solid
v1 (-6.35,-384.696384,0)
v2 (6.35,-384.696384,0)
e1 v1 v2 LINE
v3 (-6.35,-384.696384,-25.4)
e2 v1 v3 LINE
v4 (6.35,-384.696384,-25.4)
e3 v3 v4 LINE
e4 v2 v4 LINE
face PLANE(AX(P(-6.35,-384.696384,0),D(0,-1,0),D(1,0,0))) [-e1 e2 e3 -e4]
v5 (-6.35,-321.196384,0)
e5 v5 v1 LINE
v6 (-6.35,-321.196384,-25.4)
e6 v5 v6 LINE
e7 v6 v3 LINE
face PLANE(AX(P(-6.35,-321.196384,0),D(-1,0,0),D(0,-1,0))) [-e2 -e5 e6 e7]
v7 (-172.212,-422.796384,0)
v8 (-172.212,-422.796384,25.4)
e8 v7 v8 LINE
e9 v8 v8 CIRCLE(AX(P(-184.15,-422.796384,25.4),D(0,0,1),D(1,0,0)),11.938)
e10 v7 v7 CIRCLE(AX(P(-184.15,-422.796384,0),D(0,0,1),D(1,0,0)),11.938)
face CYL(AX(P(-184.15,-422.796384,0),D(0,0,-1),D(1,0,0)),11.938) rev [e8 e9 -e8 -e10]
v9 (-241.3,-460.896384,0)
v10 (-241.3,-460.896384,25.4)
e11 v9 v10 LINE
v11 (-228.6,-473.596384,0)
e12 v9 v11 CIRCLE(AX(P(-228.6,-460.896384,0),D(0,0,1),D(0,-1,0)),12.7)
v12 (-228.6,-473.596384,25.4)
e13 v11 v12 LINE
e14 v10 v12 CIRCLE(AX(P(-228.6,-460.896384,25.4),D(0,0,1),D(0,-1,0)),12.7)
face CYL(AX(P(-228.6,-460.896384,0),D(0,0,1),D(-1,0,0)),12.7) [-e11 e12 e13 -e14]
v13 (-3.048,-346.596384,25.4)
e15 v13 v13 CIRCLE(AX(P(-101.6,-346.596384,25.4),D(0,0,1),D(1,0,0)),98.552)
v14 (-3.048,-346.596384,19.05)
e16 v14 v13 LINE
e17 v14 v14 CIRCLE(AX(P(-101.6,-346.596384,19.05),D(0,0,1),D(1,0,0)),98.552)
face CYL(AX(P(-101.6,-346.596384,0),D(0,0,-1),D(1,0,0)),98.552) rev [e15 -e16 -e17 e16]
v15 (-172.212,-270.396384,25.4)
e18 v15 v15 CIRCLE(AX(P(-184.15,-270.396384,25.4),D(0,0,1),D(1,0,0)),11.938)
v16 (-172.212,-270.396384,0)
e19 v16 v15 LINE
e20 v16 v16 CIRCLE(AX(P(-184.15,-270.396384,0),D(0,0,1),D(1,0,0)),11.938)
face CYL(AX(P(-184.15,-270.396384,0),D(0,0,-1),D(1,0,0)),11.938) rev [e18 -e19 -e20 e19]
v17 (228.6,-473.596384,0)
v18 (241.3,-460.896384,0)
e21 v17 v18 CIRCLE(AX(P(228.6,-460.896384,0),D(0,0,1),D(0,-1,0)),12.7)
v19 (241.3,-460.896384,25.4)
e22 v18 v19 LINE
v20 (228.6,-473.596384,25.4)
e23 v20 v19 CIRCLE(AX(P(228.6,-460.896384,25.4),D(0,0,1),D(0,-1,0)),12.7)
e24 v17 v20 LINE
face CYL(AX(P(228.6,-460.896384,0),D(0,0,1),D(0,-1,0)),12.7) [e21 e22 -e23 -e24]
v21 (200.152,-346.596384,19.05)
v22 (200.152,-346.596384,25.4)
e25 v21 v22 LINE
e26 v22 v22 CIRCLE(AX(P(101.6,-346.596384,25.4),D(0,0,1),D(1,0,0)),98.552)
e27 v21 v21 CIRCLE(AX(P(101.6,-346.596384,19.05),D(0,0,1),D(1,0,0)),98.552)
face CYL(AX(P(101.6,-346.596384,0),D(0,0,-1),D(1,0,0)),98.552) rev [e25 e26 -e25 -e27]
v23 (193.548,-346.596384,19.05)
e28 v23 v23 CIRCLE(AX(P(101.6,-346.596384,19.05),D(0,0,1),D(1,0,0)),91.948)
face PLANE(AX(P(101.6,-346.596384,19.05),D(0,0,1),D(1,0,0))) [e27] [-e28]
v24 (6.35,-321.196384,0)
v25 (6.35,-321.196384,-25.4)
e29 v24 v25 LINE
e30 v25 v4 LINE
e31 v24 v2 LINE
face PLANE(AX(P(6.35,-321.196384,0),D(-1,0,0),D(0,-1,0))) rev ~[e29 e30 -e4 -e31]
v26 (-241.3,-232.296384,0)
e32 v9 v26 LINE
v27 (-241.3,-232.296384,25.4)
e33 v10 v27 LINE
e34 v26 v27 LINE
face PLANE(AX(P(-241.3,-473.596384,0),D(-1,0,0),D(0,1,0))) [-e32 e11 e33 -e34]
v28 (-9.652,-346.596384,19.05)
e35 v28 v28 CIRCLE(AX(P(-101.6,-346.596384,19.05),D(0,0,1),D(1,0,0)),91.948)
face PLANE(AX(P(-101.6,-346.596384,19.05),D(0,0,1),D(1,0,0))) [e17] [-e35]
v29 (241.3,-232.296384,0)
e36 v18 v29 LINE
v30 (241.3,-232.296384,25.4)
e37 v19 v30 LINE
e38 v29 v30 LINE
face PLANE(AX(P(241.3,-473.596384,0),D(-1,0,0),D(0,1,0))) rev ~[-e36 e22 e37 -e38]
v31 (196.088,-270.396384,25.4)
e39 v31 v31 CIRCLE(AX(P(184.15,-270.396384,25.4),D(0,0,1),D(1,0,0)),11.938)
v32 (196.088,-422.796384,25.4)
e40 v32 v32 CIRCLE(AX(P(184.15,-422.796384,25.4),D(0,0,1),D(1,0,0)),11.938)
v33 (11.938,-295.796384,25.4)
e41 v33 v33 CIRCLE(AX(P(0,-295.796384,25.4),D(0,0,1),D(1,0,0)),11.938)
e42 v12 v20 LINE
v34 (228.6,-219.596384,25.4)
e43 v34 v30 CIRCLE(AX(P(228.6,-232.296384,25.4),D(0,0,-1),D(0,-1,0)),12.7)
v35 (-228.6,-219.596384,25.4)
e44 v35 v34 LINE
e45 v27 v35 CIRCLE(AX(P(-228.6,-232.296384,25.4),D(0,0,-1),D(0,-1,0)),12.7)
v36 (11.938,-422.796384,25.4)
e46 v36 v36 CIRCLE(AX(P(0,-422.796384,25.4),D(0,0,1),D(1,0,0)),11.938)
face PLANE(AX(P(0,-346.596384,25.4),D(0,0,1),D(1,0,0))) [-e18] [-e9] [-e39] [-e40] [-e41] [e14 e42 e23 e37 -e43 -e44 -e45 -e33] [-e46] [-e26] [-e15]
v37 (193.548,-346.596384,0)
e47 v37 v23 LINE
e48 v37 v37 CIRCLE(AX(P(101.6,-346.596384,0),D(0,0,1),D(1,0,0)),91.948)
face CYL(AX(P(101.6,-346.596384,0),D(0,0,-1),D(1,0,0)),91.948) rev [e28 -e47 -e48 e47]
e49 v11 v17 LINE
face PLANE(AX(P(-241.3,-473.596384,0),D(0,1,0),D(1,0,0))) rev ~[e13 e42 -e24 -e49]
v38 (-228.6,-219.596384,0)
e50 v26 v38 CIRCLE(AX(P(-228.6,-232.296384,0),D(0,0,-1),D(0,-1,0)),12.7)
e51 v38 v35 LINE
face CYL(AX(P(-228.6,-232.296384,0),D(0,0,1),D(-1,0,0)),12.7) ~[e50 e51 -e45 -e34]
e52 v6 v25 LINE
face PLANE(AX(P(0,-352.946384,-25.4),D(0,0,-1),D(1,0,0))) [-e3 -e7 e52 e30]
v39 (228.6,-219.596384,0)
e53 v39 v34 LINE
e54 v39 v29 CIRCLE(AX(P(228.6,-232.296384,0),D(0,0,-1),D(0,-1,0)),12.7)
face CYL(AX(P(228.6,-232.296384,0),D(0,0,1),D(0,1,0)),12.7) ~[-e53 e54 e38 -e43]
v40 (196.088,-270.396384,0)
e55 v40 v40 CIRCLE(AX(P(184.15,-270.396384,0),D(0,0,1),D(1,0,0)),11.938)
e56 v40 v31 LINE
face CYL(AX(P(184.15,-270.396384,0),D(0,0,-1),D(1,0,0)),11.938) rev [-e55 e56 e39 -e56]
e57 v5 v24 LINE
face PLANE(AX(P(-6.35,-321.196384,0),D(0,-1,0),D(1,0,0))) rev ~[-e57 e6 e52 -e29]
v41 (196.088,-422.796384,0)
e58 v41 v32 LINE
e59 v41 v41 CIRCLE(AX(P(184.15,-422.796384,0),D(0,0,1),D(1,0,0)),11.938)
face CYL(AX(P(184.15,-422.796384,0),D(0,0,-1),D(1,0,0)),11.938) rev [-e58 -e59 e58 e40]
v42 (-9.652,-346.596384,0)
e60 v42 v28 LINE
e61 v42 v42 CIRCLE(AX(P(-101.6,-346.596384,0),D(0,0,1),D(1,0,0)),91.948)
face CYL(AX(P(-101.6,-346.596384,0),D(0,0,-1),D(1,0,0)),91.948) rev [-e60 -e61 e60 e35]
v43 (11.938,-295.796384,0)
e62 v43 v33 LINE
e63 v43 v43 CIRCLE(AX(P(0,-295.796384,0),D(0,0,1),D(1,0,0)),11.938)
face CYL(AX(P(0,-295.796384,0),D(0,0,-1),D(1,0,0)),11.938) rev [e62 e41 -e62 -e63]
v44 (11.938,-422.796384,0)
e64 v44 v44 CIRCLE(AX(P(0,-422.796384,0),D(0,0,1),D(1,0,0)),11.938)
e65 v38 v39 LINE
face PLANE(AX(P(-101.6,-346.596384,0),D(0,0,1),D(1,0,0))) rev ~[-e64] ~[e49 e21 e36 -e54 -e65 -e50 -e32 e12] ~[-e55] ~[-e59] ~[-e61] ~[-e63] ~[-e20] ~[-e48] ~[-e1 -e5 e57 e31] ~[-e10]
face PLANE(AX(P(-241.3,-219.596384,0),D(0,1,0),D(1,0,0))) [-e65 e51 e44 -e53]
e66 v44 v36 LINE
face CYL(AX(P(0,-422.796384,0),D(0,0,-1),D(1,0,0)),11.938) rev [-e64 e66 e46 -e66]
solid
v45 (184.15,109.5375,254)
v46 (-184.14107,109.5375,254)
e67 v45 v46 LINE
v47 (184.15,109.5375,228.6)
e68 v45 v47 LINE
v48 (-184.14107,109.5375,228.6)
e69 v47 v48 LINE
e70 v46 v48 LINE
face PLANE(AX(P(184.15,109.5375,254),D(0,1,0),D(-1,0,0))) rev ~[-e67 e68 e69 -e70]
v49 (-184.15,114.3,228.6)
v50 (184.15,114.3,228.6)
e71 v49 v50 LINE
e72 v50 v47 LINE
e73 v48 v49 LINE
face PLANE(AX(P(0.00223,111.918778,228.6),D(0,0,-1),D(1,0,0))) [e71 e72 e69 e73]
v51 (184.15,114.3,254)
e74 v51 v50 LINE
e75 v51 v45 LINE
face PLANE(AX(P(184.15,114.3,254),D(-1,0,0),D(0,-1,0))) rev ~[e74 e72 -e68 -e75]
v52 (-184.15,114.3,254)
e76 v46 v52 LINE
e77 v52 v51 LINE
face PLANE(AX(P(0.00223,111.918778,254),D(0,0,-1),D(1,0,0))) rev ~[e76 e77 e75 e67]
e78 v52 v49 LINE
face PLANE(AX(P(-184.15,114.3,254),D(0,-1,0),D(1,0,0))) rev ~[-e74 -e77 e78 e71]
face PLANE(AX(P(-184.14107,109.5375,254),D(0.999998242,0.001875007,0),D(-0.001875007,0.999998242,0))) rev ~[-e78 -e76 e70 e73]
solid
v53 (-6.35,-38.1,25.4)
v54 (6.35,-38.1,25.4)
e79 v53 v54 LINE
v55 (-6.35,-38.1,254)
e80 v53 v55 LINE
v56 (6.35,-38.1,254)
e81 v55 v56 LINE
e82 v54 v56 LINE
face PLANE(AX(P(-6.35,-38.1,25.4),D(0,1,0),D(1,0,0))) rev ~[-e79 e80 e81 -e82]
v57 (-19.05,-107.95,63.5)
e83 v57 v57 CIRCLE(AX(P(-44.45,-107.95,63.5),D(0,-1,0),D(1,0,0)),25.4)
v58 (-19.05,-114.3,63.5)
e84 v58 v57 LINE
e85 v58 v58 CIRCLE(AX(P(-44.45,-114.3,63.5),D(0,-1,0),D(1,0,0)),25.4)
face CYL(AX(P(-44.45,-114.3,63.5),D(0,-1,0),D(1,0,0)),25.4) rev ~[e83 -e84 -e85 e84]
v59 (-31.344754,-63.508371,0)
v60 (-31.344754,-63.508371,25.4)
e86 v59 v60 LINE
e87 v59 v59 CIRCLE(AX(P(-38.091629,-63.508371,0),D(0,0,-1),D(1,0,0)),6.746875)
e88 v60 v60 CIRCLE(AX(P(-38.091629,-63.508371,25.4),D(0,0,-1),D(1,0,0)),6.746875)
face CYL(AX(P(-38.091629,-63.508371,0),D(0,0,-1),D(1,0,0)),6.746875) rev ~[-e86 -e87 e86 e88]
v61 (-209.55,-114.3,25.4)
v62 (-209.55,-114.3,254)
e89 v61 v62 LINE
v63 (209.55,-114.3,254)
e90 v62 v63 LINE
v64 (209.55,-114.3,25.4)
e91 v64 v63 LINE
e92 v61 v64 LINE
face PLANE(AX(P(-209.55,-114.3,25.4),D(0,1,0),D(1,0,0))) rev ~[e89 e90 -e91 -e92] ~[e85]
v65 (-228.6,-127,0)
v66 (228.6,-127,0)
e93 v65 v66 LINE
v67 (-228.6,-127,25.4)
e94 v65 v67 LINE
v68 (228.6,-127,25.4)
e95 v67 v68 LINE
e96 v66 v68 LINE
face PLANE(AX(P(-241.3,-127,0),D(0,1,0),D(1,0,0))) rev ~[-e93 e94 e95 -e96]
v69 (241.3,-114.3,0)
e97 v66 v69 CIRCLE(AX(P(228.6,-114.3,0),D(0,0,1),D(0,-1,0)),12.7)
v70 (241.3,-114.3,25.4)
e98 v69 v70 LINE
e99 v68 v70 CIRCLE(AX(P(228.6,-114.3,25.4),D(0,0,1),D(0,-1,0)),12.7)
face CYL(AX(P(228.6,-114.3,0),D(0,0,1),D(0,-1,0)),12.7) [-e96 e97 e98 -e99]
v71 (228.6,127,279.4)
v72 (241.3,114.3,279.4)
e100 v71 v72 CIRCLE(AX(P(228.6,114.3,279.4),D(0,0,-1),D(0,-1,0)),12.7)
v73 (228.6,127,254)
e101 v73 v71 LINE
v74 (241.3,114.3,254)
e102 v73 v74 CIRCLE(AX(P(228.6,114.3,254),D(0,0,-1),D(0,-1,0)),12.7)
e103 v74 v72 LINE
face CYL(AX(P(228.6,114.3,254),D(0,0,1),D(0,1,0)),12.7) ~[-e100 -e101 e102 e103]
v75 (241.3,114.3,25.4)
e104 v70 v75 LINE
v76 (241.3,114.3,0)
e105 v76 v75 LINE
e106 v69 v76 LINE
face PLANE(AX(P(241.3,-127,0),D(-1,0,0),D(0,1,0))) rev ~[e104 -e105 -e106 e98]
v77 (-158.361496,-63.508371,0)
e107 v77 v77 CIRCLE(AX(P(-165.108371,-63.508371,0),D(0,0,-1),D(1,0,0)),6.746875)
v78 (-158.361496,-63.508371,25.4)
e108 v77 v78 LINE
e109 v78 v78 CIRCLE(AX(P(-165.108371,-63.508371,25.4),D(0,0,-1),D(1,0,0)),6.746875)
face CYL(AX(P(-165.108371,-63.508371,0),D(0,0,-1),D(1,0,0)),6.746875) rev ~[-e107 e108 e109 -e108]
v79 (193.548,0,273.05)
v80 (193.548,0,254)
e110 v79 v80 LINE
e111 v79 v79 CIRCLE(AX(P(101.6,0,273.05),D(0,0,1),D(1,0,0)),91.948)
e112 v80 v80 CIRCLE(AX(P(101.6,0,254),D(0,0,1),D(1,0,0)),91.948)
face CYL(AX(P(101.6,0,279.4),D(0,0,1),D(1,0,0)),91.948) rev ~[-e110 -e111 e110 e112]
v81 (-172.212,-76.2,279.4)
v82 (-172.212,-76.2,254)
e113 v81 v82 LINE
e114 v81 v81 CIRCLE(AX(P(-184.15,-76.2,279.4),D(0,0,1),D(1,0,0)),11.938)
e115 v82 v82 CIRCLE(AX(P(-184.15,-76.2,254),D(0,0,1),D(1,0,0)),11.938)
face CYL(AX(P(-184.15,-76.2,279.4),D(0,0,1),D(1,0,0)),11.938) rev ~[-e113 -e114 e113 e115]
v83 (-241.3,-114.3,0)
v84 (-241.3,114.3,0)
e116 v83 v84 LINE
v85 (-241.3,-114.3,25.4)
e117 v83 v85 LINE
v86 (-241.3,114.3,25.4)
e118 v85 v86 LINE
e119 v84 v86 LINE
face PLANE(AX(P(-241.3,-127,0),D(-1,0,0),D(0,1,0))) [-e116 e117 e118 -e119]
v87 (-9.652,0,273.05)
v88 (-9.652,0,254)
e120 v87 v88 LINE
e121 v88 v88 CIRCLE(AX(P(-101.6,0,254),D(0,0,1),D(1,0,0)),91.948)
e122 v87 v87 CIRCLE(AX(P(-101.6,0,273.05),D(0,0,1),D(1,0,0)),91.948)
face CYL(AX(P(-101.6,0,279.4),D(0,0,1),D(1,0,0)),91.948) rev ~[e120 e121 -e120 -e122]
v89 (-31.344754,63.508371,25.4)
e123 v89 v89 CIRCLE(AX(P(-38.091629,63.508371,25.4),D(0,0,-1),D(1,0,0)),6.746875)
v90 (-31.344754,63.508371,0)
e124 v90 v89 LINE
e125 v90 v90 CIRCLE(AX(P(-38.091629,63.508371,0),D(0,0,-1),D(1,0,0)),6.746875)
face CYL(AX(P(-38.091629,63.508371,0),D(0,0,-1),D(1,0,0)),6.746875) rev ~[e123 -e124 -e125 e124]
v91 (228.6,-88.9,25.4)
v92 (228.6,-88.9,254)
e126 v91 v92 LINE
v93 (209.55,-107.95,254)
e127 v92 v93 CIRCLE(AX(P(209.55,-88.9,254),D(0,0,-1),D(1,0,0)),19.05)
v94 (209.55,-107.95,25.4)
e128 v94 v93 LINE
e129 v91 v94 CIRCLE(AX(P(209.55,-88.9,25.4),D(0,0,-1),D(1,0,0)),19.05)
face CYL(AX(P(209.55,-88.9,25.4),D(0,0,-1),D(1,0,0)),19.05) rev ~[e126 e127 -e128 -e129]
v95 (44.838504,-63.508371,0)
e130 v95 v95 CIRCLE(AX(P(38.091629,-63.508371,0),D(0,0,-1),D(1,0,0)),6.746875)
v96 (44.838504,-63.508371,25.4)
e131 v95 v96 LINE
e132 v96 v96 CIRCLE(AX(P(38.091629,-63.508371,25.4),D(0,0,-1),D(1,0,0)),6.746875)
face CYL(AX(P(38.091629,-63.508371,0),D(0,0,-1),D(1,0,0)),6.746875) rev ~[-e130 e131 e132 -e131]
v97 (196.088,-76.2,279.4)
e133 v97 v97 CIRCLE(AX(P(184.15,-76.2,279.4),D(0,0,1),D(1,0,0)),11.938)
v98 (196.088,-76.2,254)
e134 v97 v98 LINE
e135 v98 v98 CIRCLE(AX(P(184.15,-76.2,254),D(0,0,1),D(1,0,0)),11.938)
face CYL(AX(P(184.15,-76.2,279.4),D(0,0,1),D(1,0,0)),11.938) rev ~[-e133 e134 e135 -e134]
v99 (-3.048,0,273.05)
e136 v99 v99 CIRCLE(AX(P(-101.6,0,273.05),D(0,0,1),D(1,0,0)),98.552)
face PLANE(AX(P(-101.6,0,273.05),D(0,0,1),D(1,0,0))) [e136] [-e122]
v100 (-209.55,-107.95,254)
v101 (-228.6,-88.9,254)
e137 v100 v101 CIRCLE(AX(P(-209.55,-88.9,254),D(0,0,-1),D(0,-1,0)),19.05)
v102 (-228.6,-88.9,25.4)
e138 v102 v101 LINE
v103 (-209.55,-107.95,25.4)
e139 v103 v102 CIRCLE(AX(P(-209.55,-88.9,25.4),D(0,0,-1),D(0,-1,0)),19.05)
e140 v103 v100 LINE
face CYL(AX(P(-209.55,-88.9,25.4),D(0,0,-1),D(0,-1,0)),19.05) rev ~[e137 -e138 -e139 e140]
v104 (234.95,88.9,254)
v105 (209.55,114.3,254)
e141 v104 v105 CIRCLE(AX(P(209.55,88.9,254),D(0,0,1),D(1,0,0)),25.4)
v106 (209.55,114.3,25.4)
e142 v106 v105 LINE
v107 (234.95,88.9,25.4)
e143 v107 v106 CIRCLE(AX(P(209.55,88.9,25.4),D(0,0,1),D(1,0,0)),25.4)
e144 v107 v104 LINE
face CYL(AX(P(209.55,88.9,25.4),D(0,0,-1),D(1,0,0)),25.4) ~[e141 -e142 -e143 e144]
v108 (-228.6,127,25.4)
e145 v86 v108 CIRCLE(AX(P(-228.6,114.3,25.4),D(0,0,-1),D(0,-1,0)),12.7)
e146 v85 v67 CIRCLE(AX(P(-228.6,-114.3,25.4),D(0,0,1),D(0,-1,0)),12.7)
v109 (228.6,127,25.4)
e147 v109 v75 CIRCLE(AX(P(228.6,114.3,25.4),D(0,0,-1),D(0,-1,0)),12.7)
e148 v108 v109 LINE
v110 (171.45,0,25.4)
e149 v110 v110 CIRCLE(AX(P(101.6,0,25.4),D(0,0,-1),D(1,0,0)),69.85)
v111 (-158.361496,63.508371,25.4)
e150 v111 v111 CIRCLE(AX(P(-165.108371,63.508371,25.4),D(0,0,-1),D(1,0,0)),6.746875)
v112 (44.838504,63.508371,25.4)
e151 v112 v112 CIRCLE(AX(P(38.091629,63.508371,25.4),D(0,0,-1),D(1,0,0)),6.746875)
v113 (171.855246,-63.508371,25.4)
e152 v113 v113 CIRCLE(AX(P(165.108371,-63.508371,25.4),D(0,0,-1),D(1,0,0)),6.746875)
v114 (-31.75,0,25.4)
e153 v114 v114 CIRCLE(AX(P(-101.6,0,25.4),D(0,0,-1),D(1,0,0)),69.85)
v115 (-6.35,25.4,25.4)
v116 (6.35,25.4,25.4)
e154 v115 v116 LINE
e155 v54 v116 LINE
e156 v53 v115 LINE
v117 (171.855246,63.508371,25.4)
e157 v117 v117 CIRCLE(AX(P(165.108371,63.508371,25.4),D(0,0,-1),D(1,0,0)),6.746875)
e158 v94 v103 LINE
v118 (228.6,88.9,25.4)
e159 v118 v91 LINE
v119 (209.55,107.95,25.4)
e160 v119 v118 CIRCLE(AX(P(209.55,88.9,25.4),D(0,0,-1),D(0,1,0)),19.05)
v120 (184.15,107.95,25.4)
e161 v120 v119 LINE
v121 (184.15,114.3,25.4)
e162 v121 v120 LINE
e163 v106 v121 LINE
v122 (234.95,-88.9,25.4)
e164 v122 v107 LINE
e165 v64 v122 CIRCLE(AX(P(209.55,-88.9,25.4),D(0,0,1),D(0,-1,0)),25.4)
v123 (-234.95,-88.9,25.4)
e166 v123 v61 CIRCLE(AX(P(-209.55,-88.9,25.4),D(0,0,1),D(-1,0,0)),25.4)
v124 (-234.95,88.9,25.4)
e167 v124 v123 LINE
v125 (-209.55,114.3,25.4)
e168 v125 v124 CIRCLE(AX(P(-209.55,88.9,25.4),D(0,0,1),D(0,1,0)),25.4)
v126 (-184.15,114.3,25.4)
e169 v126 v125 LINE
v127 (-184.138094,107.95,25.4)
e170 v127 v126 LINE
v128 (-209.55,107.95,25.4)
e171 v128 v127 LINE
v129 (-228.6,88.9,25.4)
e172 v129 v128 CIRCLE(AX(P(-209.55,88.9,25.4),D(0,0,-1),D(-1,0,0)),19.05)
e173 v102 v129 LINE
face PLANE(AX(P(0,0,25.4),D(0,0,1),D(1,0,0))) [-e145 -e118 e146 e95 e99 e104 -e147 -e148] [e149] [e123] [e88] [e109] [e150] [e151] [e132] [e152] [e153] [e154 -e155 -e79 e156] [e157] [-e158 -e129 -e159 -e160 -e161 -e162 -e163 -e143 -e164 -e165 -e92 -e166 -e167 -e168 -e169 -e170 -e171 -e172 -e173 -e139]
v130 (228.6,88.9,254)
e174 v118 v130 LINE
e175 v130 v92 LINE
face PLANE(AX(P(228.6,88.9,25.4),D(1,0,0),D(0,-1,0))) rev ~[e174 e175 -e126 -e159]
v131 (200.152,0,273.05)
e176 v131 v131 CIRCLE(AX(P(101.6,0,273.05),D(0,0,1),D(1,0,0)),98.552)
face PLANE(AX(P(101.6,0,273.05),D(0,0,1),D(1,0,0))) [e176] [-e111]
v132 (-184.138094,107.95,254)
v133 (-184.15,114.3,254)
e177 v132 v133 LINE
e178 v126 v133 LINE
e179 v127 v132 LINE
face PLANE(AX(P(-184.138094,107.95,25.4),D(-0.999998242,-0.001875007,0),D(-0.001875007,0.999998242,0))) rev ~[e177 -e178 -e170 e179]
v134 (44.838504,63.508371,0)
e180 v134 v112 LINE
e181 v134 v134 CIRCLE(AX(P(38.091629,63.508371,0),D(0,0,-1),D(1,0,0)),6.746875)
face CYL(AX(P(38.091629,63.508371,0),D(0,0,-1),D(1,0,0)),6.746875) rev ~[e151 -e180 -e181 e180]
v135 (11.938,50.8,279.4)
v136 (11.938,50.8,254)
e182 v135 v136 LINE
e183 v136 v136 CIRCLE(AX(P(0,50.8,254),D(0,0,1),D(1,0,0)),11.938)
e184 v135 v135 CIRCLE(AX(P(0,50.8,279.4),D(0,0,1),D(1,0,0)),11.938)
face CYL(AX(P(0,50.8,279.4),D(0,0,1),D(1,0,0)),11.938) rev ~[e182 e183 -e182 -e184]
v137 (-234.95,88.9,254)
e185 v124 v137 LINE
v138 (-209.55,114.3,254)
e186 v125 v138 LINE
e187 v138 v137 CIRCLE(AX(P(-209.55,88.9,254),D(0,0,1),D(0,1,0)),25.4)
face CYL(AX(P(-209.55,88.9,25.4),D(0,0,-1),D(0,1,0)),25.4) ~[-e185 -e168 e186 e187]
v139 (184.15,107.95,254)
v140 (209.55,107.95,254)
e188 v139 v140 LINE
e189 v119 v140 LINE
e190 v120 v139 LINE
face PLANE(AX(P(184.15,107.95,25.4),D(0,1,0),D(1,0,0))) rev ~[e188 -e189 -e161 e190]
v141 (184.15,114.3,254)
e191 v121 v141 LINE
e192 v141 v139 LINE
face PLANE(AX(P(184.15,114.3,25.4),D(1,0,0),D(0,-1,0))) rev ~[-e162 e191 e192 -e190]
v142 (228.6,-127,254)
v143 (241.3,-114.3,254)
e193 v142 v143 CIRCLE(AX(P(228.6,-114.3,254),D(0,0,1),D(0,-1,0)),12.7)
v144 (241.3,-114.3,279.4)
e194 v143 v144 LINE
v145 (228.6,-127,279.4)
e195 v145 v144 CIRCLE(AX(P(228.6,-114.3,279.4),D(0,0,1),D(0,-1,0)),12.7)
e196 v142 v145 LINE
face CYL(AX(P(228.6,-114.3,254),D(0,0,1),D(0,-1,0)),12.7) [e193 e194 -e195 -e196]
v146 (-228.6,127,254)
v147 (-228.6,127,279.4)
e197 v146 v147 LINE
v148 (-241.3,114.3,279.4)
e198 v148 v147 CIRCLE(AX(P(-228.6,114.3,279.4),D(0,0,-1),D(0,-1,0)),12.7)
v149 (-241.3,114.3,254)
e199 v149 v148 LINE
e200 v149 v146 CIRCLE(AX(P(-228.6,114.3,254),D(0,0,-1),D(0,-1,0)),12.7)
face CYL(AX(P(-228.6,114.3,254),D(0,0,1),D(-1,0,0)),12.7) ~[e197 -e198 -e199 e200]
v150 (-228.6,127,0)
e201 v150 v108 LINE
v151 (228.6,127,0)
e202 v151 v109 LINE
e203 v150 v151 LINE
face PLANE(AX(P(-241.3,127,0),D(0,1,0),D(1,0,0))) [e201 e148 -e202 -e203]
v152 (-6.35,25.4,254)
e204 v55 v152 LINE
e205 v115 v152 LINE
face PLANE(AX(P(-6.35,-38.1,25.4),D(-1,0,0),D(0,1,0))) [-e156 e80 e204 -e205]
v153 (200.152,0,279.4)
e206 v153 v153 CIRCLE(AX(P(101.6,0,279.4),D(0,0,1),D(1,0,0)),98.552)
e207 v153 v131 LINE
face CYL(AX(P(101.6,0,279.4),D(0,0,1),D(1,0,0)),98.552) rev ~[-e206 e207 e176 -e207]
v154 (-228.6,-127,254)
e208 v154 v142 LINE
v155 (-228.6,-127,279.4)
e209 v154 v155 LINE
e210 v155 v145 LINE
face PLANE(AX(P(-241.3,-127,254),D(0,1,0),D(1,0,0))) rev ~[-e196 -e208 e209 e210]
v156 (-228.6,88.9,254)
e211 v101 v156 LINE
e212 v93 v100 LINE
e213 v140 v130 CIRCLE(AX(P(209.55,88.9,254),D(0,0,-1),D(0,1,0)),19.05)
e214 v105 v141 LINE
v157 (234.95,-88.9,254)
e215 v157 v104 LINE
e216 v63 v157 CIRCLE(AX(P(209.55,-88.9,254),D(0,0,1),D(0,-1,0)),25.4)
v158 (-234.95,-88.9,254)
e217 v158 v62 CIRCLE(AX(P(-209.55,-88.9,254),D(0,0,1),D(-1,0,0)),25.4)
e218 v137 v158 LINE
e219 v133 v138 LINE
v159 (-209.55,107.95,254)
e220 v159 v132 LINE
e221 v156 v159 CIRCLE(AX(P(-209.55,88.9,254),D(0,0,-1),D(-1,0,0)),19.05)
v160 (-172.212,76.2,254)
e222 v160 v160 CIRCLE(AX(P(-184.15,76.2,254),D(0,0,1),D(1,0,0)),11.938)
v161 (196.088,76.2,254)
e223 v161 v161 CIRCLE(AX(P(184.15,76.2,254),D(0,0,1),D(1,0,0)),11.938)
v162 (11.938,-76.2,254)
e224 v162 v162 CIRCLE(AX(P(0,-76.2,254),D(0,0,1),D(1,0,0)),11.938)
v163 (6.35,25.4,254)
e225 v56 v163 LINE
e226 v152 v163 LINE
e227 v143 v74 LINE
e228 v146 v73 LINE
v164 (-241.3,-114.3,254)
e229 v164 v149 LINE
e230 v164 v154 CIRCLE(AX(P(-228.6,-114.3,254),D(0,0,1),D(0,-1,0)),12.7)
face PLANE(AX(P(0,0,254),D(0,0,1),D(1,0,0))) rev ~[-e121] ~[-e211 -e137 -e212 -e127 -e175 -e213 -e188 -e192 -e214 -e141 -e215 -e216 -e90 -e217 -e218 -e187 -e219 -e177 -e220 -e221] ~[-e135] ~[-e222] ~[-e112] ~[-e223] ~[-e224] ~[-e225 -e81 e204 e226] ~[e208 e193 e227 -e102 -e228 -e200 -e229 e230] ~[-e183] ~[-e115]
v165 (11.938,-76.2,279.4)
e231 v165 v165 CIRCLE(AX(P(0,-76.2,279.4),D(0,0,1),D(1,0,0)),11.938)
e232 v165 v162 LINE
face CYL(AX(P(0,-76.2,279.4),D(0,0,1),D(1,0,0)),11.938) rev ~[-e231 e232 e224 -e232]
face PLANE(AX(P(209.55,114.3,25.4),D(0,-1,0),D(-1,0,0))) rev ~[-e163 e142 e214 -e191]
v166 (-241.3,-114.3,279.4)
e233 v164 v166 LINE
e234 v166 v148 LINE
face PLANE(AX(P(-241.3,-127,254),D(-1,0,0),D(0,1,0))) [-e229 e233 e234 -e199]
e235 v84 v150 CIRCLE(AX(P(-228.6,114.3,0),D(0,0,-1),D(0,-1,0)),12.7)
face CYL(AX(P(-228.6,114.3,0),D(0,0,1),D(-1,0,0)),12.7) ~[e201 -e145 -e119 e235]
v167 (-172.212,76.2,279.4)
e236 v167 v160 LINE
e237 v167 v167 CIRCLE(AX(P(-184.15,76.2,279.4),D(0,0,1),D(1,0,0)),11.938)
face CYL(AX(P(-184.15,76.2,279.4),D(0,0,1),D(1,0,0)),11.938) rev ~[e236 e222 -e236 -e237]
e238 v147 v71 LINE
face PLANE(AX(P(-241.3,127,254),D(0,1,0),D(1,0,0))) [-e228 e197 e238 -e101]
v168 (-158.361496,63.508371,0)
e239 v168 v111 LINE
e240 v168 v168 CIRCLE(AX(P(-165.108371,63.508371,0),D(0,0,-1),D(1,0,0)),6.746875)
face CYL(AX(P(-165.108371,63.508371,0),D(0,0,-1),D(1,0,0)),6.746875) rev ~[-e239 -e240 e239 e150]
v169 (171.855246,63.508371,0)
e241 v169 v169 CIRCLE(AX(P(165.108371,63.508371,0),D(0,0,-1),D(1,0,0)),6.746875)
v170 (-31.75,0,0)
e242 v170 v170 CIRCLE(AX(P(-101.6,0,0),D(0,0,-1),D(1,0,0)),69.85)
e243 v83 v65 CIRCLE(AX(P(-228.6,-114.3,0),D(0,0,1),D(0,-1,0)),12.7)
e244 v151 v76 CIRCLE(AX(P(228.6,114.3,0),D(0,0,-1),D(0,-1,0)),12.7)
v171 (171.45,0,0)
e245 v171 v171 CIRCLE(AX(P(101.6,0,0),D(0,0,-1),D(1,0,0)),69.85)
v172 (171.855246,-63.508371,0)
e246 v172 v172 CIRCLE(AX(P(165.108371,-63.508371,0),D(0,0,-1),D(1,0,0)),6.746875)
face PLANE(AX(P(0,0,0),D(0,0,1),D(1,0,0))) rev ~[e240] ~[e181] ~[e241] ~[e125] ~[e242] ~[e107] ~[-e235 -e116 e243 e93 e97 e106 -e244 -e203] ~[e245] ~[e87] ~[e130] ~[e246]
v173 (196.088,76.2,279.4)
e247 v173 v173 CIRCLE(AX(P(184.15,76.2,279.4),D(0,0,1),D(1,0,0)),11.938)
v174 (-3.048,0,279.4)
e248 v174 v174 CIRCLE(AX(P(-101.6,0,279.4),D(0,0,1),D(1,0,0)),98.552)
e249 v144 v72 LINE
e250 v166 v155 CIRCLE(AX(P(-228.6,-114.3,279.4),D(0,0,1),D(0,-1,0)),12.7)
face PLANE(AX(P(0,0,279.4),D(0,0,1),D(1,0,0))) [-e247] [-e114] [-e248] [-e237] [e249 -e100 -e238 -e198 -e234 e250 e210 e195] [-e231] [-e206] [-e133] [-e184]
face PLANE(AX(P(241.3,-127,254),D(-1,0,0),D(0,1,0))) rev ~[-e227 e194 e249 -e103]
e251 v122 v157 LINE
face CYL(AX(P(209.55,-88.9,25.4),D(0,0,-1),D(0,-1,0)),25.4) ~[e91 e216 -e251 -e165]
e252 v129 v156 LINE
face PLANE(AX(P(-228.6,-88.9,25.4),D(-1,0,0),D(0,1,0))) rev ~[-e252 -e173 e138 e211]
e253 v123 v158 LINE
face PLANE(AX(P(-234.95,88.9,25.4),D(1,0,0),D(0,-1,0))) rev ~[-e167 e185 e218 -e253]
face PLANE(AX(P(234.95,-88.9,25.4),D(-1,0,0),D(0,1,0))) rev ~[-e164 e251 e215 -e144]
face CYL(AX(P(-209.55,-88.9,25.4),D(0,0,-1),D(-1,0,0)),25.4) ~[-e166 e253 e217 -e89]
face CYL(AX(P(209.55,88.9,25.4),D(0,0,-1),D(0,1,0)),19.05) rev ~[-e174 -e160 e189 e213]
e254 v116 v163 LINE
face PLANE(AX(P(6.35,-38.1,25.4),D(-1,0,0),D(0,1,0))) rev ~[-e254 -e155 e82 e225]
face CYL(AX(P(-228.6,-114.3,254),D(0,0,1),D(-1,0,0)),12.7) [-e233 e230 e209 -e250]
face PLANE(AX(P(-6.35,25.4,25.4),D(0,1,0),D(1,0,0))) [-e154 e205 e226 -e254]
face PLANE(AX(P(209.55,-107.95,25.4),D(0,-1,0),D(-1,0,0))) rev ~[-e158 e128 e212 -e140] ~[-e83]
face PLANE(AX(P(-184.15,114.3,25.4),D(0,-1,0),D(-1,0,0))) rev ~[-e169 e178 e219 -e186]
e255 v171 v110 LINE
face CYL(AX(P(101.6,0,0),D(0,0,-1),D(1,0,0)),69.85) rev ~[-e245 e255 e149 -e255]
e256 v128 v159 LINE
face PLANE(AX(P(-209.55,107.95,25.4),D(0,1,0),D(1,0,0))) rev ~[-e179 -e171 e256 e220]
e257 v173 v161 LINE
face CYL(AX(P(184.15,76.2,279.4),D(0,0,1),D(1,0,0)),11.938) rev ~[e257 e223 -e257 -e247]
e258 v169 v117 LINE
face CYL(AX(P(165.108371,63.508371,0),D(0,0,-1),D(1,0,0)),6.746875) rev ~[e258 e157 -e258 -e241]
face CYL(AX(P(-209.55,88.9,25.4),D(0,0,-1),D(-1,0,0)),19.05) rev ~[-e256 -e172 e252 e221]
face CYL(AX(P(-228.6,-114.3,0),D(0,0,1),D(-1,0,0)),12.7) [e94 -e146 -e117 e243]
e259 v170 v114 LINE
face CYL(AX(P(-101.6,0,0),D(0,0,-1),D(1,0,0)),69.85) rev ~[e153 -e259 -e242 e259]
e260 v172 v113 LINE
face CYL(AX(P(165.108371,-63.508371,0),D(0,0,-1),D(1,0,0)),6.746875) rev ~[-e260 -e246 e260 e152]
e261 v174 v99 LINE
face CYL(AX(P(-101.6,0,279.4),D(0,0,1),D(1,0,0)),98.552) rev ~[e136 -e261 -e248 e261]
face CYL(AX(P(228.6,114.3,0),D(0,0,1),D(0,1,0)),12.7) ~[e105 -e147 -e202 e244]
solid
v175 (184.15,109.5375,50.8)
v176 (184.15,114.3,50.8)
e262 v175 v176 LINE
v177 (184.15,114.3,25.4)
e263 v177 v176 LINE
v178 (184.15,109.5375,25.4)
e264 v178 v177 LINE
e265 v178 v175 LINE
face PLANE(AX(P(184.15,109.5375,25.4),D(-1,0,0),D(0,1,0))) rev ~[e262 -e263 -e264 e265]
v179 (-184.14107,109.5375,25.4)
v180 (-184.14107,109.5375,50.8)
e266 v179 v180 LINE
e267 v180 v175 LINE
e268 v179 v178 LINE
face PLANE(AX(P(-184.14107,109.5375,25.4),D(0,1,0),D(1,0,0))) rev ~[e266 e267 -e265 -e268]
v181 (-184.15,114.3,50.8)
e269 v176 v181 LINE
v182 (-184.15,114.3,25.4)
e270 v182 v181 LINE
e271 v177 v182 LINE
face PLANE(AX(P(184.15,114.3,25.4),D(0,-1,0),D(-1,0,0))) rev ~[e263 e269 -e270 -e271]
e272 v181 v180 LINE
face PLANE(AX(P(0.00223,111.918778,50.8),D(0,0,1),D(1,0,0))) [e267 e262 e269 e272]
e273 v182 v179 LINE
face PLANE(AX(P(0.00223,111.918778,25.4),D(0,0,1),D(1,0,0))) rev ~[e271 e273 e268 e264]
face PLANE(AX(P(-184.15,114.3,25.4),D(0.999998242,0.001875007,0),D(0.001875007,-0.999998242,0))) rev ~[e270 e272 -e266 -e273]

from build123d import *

# Parameters (mm, degrees)
F0_W      = 482.6
F0_H      = 254
F1_DEPTH  = 25.4
F2_W      = 12.7
F2_H      = 63.5
F3_DEPTH  = 228.6
F4_W      = 482.6
F4_H      = 254
F5_DEPTH  = 25.4
F6_R      = 25.4
F7_DEPTH  = 6.35
F9_R      = 91.948
F9_R_2    = 11.938
F10_DEPTH = 25.4
F9_R_3    = 98.552
F11_DEPTH = 6.35
F12_R     = 69.85
F12_R_2   = 6.746875
F13_DEPTH = 25.4
F15_DEPTH = 25.4
F17_DEPTH = 25.4
F18_W     = 482.6
F18_H     = 254
F18_R     = 11.938
F18_R_2   = 98.552
F19_DEPTH = 25.4
F18_R_3   = 91.948
F20_DEPTH = 19.05
F21_W     = 12.7
F21_H     = 63.5
F22_DEPTH = 25.4
F23_R     = 12.7
F23_2_R   = 12.7


with BuildPart() as f1:
    # F0 (on Top) → F1 (new body)
    with BuildSketch(Plane.XY):
        Rectangle(F0_W, F0_H)
    extrude(amount=F1_DEPTH)

    # F2 (on face) → F3 (join)
    with BuildSketch(Plane.XY.offset(25.4)):
        with BuildLine():
            Line((-209.5499999999, -114.3), (209.5500000001, -114.3))
            ThreePointArc((209.5500000001, -114.3), (227.5105122422, -106.8605122421), (234.95, -88.9))
            Line((234.95, -88.9), (234.95, 88.9))
            ThreePointArc((234.95, 88.9), (227.5105122421, 106.8605122421), (209.55, 114.3))
            Line((209.55, 114.3), (184.1499999999, 114.3))
            Line((184.1499999999, 114.3), (184.1499999999, 107.95))
            Line((184.1499999999, 107.95), (209.5500000002, 107.95))
            ThreePointArc((209.5500000002, 107.95), (223.0203841818, 102.3703841816), (228.6000000002, 88.9))
            Line((228.6000000002, 88.9), (228.5999999998, -88.9))
            ThreePointArc((228.5999999998, -88.9), (223.0203841814, -102.3703841816), (209.5499999998, -107.95))
            Line((209.5499999998, -107.95), (-209.5500000002, -107.95))
            ThreePointArc((-209.5500000002, -107.95), (-223.0203841818, -102.3703841816), (-228.6000000002, -88.9))
            Line((-228.6000000002, -88.9), (-228.5999999998, 88.9))
            ThreePointArc((-228.5999999998, 88.9), (-223.0203841814, 102.3703841816), (-209.5499999998, 107.95))
            Line((-209.5499999998, 107.95), (-184.1380936859, 107.95))
            Line((-184.1380936859, 107.95), (-184.1500000001, 114.3))
            Line((-184.1500000001, 114.3), (-209.55, 114.3))
            ThreePointArc((-209.55, 114.3), (-227.5105122422, 106.8605122422), (-234.95, 88.9))
            Line((-234.95, 88.9), (-234.95, -88.9))
            ThreePointArc((-234.95, -88.9), (-227.5105122421, -106.8605122421), (-209.5499999999, -114.3))
        make_face()
        with Locations((0, -6.35)):
            Rectangle(F2_W, F2_H)
    extrude(amount=F3_DEPTH)

    # F4 (on face) → F5 (join)
    with BuildSketch(Plane.XY.offset(254)):
        Rectangle(F4_W, F4_H)
    extrude(amount=F5_DEPTH)

    # F6 (on face) → F7 (cut)
    with BuildSketch(Plane.XZ.offset(114.3)):
        with Locations((-44.45, 63.5)):
            Circle(F6_R)
    extrude(amount=-F7_DEPTH, mode=Mode.SUBTRACT)

    # F9 (on face) → F10 (cut)
    with BuildSketch(Plane.XY.offset(279.4)):
        with Locations((-101.6, 0)):
            Circle(F9_R)
        with Locations((101.6, 0)):
            Circle(F9_R)
        with Locations((184.15, 76.2)):
            Circle(F9_R_2)
        with Locations((184.15, -76.2)):
            Circle(F9_R_2)
        with Locations((0, -76.2)):
            Circle(F9_R_2)
        with Locations((0, 50.8)):
            Circle(F9_R_2)
        with Locations((-184.15, 76.2)):
            Circle(F9_R_2)
        with Locations((-184.15, -76.2)):
            Circle(F9_R_2)
    extrude(amount=-F10_DEPTH, mode=Mode.SUBTRACT)

    # F9 (on face) → F11 (cut)
    with BuildSketch(Plane.XY.offset(279.4)):
        with Locations((-101.6, 0)):
            Circle(F9_R_3)
        with Locations((-101.6, 0)):
            Circle(F9_R, mode=Mode.SUBTRACT)
        with Locations((101.6, 0)):
            Circle(F9_R_3)
        with Locations((101.6, 0)):
            Circle(F9_R, mode=Mode.SUBTRACT)
    extrude(amount=-F11_DEPTH, mode=Mode.SUBTRACT)

    # F12 (on face) → F13 (cut)
    with BuildSketch(Plane(origin=(0, 0, 0), x_dir=(1, 0, 0), z_dir=(0, 0, -1))):
        with Locations((101.6, 0)):
            Circle(F12_R)
        with Locations((165.1083712882, -63.5083712882)):
            Circle(F12_R_2)
        with Locations((165.1083712882, 63.5083712882)):
            Circle(F12_R_2)
        with Locations((38.0916287118, 63.5083712882)):
            Circle(F12_R_2)
        with Locations((38.0916287118, -63.5083712882)):
            Circle(F12_R_2)
        with Locations((-38.0916287118, -63.5083712882)):
            Circle(F12_R_2)
        with Locations((-101.6, 0)):
            Circle(F12_R)
        with Locations((-38.0916287118, 63.5083712882)):
            Circle(F12_R_2)
        with Locations((-165.1083712882, 63.5083712882)):
            Circle(F12_R_2)
        with Locations((-165.1083712882, -63.5083712882)):
            Circle(F12_R_2)
    extrude(amount=-F13_DEPTH, mode=Mode.SUBTRACT)

    # F23
    f23_edges = [f1.edges().sort_by_distance(p)[0] for p in [
        (241.3, -127, 266.7),
        (241.3, 127, 266.7),
        (241.3, 127, 12.7),
        (241.3, -127, 12.7),
        (-241.3, -127, 266.7),
        (-241.3, -127, 12.7),
        (-241.3, 127, 266.7),
        (-241.3, 127, 12.7),
    ]]
    fillet(f23_edges, radius=F23_R)


with BuildPart() as f15:
    # F14 (on face) → F15 (new body)
    with BuildSketch(Plane.XY.offset(25.4)):
        Polygon((-184.1410702644, 109.5375), (184.1500000001, 109.5375), (184.1500000001, 114.3), (-184.1500000001, 114.3), align=None)
    extrude(amount=F15_DEPTH)


with BuildPart() as f17:
    # F16 (on face) → F17 (new body)
    with BuildSketch(Plane(origin=(0, 0, 254), x_dir=(1, 0, 0), z_dir=(0, 0, -1))):
        Polygon((-184.1410702644, -109.5375), (-184.1500000001, -114.3), (184.1499999999, -114.3), (184.1499999999, -109.5375), align=None)
    extrude(amount=F17_DEPTH)


with BuildPart() as f19:
    # F18 (on Top) → F19 (new body)
    with BuildSketch(Plane.XY):
        with Locations((0, -346.596384281)):
            Rectangle(F18_W, F18_H)
        with Locations((-184.15, -422.796384281)):
            Circle(F18_R, mode=Mode.SUBTRACT)
        with Locations((0, -422.796384281)):
            Circle(F18_R, mode=Mode.SUBTRACT)
        with Locations((184.15, -422.796384281)):
            Circle(F18_R, mode=Mode.SUBTRACT)
        with Locations((-101.6, -346.596384281)):
            Circle(F18_R_2, mode=Mode.SUBTRACT)
        with Locations((-184.15, -270.396384281)):
            Circle(F18_R, mode=Mode.SUBTRACT)
        with Locations((101.6, -346.596384281)):
            Circle(F18_R_2, mode=Mode.SUBTRACT)
        with Locations((0, -295.796384281)):
            Circle(F18_R, mode=Mode.SUBTRACT)
        with Locations((184.15, -270.396384281)):
            Circle(F18_R, mode=Mode.SUBTRACT)
    extrude(amount=F19_DEPTH)

    # F18 (on Top) → F20 (join)
    with BuildSketch(Plane.XY):
        with Locations((-101.6, -346.596384281)):
            Circle(F18_R_2)
        with Locations((-101.6, -346.596384281)):
            Circle(F18_R_3, mode=Mode.SUBTRACT)
        with Locations((101.6, -346.596384281)):
            Circle(F18_R_2)
        with Locations((101.6, -346.596384281)):
            Circle(F18_R_3, mode=Mode.SUBTRACT)
    extrude(amount=F20_DEPTH)

    # F21 (on face) → F22 (join)
    with BuildSketch(Plane(origin=(0, 0, 0), x_dir=(1, 0, 0), z_dir=(0, 0, -1))):
        with Locations((0, 352.946384281)):
            Rectangle(F21_W, F21_H)
    extrude(amount=F22_DEPTH)

    # F23#2
    f23_2_edges = [f19.edges().sort_by_distance(p)[0] for p in [
        (241.3, -219.596384, 12.7),
        (241.3, -473.596384, 12.7),
        (-241.3, -473.596384, 12.7),
        (-241.3, -219.596384, 12.7),
    ]]
    fillet(f23_2_edges, radius=F23_2_R)


solid = Compound([f1.part, f15.part, f17.part, f19.part])
